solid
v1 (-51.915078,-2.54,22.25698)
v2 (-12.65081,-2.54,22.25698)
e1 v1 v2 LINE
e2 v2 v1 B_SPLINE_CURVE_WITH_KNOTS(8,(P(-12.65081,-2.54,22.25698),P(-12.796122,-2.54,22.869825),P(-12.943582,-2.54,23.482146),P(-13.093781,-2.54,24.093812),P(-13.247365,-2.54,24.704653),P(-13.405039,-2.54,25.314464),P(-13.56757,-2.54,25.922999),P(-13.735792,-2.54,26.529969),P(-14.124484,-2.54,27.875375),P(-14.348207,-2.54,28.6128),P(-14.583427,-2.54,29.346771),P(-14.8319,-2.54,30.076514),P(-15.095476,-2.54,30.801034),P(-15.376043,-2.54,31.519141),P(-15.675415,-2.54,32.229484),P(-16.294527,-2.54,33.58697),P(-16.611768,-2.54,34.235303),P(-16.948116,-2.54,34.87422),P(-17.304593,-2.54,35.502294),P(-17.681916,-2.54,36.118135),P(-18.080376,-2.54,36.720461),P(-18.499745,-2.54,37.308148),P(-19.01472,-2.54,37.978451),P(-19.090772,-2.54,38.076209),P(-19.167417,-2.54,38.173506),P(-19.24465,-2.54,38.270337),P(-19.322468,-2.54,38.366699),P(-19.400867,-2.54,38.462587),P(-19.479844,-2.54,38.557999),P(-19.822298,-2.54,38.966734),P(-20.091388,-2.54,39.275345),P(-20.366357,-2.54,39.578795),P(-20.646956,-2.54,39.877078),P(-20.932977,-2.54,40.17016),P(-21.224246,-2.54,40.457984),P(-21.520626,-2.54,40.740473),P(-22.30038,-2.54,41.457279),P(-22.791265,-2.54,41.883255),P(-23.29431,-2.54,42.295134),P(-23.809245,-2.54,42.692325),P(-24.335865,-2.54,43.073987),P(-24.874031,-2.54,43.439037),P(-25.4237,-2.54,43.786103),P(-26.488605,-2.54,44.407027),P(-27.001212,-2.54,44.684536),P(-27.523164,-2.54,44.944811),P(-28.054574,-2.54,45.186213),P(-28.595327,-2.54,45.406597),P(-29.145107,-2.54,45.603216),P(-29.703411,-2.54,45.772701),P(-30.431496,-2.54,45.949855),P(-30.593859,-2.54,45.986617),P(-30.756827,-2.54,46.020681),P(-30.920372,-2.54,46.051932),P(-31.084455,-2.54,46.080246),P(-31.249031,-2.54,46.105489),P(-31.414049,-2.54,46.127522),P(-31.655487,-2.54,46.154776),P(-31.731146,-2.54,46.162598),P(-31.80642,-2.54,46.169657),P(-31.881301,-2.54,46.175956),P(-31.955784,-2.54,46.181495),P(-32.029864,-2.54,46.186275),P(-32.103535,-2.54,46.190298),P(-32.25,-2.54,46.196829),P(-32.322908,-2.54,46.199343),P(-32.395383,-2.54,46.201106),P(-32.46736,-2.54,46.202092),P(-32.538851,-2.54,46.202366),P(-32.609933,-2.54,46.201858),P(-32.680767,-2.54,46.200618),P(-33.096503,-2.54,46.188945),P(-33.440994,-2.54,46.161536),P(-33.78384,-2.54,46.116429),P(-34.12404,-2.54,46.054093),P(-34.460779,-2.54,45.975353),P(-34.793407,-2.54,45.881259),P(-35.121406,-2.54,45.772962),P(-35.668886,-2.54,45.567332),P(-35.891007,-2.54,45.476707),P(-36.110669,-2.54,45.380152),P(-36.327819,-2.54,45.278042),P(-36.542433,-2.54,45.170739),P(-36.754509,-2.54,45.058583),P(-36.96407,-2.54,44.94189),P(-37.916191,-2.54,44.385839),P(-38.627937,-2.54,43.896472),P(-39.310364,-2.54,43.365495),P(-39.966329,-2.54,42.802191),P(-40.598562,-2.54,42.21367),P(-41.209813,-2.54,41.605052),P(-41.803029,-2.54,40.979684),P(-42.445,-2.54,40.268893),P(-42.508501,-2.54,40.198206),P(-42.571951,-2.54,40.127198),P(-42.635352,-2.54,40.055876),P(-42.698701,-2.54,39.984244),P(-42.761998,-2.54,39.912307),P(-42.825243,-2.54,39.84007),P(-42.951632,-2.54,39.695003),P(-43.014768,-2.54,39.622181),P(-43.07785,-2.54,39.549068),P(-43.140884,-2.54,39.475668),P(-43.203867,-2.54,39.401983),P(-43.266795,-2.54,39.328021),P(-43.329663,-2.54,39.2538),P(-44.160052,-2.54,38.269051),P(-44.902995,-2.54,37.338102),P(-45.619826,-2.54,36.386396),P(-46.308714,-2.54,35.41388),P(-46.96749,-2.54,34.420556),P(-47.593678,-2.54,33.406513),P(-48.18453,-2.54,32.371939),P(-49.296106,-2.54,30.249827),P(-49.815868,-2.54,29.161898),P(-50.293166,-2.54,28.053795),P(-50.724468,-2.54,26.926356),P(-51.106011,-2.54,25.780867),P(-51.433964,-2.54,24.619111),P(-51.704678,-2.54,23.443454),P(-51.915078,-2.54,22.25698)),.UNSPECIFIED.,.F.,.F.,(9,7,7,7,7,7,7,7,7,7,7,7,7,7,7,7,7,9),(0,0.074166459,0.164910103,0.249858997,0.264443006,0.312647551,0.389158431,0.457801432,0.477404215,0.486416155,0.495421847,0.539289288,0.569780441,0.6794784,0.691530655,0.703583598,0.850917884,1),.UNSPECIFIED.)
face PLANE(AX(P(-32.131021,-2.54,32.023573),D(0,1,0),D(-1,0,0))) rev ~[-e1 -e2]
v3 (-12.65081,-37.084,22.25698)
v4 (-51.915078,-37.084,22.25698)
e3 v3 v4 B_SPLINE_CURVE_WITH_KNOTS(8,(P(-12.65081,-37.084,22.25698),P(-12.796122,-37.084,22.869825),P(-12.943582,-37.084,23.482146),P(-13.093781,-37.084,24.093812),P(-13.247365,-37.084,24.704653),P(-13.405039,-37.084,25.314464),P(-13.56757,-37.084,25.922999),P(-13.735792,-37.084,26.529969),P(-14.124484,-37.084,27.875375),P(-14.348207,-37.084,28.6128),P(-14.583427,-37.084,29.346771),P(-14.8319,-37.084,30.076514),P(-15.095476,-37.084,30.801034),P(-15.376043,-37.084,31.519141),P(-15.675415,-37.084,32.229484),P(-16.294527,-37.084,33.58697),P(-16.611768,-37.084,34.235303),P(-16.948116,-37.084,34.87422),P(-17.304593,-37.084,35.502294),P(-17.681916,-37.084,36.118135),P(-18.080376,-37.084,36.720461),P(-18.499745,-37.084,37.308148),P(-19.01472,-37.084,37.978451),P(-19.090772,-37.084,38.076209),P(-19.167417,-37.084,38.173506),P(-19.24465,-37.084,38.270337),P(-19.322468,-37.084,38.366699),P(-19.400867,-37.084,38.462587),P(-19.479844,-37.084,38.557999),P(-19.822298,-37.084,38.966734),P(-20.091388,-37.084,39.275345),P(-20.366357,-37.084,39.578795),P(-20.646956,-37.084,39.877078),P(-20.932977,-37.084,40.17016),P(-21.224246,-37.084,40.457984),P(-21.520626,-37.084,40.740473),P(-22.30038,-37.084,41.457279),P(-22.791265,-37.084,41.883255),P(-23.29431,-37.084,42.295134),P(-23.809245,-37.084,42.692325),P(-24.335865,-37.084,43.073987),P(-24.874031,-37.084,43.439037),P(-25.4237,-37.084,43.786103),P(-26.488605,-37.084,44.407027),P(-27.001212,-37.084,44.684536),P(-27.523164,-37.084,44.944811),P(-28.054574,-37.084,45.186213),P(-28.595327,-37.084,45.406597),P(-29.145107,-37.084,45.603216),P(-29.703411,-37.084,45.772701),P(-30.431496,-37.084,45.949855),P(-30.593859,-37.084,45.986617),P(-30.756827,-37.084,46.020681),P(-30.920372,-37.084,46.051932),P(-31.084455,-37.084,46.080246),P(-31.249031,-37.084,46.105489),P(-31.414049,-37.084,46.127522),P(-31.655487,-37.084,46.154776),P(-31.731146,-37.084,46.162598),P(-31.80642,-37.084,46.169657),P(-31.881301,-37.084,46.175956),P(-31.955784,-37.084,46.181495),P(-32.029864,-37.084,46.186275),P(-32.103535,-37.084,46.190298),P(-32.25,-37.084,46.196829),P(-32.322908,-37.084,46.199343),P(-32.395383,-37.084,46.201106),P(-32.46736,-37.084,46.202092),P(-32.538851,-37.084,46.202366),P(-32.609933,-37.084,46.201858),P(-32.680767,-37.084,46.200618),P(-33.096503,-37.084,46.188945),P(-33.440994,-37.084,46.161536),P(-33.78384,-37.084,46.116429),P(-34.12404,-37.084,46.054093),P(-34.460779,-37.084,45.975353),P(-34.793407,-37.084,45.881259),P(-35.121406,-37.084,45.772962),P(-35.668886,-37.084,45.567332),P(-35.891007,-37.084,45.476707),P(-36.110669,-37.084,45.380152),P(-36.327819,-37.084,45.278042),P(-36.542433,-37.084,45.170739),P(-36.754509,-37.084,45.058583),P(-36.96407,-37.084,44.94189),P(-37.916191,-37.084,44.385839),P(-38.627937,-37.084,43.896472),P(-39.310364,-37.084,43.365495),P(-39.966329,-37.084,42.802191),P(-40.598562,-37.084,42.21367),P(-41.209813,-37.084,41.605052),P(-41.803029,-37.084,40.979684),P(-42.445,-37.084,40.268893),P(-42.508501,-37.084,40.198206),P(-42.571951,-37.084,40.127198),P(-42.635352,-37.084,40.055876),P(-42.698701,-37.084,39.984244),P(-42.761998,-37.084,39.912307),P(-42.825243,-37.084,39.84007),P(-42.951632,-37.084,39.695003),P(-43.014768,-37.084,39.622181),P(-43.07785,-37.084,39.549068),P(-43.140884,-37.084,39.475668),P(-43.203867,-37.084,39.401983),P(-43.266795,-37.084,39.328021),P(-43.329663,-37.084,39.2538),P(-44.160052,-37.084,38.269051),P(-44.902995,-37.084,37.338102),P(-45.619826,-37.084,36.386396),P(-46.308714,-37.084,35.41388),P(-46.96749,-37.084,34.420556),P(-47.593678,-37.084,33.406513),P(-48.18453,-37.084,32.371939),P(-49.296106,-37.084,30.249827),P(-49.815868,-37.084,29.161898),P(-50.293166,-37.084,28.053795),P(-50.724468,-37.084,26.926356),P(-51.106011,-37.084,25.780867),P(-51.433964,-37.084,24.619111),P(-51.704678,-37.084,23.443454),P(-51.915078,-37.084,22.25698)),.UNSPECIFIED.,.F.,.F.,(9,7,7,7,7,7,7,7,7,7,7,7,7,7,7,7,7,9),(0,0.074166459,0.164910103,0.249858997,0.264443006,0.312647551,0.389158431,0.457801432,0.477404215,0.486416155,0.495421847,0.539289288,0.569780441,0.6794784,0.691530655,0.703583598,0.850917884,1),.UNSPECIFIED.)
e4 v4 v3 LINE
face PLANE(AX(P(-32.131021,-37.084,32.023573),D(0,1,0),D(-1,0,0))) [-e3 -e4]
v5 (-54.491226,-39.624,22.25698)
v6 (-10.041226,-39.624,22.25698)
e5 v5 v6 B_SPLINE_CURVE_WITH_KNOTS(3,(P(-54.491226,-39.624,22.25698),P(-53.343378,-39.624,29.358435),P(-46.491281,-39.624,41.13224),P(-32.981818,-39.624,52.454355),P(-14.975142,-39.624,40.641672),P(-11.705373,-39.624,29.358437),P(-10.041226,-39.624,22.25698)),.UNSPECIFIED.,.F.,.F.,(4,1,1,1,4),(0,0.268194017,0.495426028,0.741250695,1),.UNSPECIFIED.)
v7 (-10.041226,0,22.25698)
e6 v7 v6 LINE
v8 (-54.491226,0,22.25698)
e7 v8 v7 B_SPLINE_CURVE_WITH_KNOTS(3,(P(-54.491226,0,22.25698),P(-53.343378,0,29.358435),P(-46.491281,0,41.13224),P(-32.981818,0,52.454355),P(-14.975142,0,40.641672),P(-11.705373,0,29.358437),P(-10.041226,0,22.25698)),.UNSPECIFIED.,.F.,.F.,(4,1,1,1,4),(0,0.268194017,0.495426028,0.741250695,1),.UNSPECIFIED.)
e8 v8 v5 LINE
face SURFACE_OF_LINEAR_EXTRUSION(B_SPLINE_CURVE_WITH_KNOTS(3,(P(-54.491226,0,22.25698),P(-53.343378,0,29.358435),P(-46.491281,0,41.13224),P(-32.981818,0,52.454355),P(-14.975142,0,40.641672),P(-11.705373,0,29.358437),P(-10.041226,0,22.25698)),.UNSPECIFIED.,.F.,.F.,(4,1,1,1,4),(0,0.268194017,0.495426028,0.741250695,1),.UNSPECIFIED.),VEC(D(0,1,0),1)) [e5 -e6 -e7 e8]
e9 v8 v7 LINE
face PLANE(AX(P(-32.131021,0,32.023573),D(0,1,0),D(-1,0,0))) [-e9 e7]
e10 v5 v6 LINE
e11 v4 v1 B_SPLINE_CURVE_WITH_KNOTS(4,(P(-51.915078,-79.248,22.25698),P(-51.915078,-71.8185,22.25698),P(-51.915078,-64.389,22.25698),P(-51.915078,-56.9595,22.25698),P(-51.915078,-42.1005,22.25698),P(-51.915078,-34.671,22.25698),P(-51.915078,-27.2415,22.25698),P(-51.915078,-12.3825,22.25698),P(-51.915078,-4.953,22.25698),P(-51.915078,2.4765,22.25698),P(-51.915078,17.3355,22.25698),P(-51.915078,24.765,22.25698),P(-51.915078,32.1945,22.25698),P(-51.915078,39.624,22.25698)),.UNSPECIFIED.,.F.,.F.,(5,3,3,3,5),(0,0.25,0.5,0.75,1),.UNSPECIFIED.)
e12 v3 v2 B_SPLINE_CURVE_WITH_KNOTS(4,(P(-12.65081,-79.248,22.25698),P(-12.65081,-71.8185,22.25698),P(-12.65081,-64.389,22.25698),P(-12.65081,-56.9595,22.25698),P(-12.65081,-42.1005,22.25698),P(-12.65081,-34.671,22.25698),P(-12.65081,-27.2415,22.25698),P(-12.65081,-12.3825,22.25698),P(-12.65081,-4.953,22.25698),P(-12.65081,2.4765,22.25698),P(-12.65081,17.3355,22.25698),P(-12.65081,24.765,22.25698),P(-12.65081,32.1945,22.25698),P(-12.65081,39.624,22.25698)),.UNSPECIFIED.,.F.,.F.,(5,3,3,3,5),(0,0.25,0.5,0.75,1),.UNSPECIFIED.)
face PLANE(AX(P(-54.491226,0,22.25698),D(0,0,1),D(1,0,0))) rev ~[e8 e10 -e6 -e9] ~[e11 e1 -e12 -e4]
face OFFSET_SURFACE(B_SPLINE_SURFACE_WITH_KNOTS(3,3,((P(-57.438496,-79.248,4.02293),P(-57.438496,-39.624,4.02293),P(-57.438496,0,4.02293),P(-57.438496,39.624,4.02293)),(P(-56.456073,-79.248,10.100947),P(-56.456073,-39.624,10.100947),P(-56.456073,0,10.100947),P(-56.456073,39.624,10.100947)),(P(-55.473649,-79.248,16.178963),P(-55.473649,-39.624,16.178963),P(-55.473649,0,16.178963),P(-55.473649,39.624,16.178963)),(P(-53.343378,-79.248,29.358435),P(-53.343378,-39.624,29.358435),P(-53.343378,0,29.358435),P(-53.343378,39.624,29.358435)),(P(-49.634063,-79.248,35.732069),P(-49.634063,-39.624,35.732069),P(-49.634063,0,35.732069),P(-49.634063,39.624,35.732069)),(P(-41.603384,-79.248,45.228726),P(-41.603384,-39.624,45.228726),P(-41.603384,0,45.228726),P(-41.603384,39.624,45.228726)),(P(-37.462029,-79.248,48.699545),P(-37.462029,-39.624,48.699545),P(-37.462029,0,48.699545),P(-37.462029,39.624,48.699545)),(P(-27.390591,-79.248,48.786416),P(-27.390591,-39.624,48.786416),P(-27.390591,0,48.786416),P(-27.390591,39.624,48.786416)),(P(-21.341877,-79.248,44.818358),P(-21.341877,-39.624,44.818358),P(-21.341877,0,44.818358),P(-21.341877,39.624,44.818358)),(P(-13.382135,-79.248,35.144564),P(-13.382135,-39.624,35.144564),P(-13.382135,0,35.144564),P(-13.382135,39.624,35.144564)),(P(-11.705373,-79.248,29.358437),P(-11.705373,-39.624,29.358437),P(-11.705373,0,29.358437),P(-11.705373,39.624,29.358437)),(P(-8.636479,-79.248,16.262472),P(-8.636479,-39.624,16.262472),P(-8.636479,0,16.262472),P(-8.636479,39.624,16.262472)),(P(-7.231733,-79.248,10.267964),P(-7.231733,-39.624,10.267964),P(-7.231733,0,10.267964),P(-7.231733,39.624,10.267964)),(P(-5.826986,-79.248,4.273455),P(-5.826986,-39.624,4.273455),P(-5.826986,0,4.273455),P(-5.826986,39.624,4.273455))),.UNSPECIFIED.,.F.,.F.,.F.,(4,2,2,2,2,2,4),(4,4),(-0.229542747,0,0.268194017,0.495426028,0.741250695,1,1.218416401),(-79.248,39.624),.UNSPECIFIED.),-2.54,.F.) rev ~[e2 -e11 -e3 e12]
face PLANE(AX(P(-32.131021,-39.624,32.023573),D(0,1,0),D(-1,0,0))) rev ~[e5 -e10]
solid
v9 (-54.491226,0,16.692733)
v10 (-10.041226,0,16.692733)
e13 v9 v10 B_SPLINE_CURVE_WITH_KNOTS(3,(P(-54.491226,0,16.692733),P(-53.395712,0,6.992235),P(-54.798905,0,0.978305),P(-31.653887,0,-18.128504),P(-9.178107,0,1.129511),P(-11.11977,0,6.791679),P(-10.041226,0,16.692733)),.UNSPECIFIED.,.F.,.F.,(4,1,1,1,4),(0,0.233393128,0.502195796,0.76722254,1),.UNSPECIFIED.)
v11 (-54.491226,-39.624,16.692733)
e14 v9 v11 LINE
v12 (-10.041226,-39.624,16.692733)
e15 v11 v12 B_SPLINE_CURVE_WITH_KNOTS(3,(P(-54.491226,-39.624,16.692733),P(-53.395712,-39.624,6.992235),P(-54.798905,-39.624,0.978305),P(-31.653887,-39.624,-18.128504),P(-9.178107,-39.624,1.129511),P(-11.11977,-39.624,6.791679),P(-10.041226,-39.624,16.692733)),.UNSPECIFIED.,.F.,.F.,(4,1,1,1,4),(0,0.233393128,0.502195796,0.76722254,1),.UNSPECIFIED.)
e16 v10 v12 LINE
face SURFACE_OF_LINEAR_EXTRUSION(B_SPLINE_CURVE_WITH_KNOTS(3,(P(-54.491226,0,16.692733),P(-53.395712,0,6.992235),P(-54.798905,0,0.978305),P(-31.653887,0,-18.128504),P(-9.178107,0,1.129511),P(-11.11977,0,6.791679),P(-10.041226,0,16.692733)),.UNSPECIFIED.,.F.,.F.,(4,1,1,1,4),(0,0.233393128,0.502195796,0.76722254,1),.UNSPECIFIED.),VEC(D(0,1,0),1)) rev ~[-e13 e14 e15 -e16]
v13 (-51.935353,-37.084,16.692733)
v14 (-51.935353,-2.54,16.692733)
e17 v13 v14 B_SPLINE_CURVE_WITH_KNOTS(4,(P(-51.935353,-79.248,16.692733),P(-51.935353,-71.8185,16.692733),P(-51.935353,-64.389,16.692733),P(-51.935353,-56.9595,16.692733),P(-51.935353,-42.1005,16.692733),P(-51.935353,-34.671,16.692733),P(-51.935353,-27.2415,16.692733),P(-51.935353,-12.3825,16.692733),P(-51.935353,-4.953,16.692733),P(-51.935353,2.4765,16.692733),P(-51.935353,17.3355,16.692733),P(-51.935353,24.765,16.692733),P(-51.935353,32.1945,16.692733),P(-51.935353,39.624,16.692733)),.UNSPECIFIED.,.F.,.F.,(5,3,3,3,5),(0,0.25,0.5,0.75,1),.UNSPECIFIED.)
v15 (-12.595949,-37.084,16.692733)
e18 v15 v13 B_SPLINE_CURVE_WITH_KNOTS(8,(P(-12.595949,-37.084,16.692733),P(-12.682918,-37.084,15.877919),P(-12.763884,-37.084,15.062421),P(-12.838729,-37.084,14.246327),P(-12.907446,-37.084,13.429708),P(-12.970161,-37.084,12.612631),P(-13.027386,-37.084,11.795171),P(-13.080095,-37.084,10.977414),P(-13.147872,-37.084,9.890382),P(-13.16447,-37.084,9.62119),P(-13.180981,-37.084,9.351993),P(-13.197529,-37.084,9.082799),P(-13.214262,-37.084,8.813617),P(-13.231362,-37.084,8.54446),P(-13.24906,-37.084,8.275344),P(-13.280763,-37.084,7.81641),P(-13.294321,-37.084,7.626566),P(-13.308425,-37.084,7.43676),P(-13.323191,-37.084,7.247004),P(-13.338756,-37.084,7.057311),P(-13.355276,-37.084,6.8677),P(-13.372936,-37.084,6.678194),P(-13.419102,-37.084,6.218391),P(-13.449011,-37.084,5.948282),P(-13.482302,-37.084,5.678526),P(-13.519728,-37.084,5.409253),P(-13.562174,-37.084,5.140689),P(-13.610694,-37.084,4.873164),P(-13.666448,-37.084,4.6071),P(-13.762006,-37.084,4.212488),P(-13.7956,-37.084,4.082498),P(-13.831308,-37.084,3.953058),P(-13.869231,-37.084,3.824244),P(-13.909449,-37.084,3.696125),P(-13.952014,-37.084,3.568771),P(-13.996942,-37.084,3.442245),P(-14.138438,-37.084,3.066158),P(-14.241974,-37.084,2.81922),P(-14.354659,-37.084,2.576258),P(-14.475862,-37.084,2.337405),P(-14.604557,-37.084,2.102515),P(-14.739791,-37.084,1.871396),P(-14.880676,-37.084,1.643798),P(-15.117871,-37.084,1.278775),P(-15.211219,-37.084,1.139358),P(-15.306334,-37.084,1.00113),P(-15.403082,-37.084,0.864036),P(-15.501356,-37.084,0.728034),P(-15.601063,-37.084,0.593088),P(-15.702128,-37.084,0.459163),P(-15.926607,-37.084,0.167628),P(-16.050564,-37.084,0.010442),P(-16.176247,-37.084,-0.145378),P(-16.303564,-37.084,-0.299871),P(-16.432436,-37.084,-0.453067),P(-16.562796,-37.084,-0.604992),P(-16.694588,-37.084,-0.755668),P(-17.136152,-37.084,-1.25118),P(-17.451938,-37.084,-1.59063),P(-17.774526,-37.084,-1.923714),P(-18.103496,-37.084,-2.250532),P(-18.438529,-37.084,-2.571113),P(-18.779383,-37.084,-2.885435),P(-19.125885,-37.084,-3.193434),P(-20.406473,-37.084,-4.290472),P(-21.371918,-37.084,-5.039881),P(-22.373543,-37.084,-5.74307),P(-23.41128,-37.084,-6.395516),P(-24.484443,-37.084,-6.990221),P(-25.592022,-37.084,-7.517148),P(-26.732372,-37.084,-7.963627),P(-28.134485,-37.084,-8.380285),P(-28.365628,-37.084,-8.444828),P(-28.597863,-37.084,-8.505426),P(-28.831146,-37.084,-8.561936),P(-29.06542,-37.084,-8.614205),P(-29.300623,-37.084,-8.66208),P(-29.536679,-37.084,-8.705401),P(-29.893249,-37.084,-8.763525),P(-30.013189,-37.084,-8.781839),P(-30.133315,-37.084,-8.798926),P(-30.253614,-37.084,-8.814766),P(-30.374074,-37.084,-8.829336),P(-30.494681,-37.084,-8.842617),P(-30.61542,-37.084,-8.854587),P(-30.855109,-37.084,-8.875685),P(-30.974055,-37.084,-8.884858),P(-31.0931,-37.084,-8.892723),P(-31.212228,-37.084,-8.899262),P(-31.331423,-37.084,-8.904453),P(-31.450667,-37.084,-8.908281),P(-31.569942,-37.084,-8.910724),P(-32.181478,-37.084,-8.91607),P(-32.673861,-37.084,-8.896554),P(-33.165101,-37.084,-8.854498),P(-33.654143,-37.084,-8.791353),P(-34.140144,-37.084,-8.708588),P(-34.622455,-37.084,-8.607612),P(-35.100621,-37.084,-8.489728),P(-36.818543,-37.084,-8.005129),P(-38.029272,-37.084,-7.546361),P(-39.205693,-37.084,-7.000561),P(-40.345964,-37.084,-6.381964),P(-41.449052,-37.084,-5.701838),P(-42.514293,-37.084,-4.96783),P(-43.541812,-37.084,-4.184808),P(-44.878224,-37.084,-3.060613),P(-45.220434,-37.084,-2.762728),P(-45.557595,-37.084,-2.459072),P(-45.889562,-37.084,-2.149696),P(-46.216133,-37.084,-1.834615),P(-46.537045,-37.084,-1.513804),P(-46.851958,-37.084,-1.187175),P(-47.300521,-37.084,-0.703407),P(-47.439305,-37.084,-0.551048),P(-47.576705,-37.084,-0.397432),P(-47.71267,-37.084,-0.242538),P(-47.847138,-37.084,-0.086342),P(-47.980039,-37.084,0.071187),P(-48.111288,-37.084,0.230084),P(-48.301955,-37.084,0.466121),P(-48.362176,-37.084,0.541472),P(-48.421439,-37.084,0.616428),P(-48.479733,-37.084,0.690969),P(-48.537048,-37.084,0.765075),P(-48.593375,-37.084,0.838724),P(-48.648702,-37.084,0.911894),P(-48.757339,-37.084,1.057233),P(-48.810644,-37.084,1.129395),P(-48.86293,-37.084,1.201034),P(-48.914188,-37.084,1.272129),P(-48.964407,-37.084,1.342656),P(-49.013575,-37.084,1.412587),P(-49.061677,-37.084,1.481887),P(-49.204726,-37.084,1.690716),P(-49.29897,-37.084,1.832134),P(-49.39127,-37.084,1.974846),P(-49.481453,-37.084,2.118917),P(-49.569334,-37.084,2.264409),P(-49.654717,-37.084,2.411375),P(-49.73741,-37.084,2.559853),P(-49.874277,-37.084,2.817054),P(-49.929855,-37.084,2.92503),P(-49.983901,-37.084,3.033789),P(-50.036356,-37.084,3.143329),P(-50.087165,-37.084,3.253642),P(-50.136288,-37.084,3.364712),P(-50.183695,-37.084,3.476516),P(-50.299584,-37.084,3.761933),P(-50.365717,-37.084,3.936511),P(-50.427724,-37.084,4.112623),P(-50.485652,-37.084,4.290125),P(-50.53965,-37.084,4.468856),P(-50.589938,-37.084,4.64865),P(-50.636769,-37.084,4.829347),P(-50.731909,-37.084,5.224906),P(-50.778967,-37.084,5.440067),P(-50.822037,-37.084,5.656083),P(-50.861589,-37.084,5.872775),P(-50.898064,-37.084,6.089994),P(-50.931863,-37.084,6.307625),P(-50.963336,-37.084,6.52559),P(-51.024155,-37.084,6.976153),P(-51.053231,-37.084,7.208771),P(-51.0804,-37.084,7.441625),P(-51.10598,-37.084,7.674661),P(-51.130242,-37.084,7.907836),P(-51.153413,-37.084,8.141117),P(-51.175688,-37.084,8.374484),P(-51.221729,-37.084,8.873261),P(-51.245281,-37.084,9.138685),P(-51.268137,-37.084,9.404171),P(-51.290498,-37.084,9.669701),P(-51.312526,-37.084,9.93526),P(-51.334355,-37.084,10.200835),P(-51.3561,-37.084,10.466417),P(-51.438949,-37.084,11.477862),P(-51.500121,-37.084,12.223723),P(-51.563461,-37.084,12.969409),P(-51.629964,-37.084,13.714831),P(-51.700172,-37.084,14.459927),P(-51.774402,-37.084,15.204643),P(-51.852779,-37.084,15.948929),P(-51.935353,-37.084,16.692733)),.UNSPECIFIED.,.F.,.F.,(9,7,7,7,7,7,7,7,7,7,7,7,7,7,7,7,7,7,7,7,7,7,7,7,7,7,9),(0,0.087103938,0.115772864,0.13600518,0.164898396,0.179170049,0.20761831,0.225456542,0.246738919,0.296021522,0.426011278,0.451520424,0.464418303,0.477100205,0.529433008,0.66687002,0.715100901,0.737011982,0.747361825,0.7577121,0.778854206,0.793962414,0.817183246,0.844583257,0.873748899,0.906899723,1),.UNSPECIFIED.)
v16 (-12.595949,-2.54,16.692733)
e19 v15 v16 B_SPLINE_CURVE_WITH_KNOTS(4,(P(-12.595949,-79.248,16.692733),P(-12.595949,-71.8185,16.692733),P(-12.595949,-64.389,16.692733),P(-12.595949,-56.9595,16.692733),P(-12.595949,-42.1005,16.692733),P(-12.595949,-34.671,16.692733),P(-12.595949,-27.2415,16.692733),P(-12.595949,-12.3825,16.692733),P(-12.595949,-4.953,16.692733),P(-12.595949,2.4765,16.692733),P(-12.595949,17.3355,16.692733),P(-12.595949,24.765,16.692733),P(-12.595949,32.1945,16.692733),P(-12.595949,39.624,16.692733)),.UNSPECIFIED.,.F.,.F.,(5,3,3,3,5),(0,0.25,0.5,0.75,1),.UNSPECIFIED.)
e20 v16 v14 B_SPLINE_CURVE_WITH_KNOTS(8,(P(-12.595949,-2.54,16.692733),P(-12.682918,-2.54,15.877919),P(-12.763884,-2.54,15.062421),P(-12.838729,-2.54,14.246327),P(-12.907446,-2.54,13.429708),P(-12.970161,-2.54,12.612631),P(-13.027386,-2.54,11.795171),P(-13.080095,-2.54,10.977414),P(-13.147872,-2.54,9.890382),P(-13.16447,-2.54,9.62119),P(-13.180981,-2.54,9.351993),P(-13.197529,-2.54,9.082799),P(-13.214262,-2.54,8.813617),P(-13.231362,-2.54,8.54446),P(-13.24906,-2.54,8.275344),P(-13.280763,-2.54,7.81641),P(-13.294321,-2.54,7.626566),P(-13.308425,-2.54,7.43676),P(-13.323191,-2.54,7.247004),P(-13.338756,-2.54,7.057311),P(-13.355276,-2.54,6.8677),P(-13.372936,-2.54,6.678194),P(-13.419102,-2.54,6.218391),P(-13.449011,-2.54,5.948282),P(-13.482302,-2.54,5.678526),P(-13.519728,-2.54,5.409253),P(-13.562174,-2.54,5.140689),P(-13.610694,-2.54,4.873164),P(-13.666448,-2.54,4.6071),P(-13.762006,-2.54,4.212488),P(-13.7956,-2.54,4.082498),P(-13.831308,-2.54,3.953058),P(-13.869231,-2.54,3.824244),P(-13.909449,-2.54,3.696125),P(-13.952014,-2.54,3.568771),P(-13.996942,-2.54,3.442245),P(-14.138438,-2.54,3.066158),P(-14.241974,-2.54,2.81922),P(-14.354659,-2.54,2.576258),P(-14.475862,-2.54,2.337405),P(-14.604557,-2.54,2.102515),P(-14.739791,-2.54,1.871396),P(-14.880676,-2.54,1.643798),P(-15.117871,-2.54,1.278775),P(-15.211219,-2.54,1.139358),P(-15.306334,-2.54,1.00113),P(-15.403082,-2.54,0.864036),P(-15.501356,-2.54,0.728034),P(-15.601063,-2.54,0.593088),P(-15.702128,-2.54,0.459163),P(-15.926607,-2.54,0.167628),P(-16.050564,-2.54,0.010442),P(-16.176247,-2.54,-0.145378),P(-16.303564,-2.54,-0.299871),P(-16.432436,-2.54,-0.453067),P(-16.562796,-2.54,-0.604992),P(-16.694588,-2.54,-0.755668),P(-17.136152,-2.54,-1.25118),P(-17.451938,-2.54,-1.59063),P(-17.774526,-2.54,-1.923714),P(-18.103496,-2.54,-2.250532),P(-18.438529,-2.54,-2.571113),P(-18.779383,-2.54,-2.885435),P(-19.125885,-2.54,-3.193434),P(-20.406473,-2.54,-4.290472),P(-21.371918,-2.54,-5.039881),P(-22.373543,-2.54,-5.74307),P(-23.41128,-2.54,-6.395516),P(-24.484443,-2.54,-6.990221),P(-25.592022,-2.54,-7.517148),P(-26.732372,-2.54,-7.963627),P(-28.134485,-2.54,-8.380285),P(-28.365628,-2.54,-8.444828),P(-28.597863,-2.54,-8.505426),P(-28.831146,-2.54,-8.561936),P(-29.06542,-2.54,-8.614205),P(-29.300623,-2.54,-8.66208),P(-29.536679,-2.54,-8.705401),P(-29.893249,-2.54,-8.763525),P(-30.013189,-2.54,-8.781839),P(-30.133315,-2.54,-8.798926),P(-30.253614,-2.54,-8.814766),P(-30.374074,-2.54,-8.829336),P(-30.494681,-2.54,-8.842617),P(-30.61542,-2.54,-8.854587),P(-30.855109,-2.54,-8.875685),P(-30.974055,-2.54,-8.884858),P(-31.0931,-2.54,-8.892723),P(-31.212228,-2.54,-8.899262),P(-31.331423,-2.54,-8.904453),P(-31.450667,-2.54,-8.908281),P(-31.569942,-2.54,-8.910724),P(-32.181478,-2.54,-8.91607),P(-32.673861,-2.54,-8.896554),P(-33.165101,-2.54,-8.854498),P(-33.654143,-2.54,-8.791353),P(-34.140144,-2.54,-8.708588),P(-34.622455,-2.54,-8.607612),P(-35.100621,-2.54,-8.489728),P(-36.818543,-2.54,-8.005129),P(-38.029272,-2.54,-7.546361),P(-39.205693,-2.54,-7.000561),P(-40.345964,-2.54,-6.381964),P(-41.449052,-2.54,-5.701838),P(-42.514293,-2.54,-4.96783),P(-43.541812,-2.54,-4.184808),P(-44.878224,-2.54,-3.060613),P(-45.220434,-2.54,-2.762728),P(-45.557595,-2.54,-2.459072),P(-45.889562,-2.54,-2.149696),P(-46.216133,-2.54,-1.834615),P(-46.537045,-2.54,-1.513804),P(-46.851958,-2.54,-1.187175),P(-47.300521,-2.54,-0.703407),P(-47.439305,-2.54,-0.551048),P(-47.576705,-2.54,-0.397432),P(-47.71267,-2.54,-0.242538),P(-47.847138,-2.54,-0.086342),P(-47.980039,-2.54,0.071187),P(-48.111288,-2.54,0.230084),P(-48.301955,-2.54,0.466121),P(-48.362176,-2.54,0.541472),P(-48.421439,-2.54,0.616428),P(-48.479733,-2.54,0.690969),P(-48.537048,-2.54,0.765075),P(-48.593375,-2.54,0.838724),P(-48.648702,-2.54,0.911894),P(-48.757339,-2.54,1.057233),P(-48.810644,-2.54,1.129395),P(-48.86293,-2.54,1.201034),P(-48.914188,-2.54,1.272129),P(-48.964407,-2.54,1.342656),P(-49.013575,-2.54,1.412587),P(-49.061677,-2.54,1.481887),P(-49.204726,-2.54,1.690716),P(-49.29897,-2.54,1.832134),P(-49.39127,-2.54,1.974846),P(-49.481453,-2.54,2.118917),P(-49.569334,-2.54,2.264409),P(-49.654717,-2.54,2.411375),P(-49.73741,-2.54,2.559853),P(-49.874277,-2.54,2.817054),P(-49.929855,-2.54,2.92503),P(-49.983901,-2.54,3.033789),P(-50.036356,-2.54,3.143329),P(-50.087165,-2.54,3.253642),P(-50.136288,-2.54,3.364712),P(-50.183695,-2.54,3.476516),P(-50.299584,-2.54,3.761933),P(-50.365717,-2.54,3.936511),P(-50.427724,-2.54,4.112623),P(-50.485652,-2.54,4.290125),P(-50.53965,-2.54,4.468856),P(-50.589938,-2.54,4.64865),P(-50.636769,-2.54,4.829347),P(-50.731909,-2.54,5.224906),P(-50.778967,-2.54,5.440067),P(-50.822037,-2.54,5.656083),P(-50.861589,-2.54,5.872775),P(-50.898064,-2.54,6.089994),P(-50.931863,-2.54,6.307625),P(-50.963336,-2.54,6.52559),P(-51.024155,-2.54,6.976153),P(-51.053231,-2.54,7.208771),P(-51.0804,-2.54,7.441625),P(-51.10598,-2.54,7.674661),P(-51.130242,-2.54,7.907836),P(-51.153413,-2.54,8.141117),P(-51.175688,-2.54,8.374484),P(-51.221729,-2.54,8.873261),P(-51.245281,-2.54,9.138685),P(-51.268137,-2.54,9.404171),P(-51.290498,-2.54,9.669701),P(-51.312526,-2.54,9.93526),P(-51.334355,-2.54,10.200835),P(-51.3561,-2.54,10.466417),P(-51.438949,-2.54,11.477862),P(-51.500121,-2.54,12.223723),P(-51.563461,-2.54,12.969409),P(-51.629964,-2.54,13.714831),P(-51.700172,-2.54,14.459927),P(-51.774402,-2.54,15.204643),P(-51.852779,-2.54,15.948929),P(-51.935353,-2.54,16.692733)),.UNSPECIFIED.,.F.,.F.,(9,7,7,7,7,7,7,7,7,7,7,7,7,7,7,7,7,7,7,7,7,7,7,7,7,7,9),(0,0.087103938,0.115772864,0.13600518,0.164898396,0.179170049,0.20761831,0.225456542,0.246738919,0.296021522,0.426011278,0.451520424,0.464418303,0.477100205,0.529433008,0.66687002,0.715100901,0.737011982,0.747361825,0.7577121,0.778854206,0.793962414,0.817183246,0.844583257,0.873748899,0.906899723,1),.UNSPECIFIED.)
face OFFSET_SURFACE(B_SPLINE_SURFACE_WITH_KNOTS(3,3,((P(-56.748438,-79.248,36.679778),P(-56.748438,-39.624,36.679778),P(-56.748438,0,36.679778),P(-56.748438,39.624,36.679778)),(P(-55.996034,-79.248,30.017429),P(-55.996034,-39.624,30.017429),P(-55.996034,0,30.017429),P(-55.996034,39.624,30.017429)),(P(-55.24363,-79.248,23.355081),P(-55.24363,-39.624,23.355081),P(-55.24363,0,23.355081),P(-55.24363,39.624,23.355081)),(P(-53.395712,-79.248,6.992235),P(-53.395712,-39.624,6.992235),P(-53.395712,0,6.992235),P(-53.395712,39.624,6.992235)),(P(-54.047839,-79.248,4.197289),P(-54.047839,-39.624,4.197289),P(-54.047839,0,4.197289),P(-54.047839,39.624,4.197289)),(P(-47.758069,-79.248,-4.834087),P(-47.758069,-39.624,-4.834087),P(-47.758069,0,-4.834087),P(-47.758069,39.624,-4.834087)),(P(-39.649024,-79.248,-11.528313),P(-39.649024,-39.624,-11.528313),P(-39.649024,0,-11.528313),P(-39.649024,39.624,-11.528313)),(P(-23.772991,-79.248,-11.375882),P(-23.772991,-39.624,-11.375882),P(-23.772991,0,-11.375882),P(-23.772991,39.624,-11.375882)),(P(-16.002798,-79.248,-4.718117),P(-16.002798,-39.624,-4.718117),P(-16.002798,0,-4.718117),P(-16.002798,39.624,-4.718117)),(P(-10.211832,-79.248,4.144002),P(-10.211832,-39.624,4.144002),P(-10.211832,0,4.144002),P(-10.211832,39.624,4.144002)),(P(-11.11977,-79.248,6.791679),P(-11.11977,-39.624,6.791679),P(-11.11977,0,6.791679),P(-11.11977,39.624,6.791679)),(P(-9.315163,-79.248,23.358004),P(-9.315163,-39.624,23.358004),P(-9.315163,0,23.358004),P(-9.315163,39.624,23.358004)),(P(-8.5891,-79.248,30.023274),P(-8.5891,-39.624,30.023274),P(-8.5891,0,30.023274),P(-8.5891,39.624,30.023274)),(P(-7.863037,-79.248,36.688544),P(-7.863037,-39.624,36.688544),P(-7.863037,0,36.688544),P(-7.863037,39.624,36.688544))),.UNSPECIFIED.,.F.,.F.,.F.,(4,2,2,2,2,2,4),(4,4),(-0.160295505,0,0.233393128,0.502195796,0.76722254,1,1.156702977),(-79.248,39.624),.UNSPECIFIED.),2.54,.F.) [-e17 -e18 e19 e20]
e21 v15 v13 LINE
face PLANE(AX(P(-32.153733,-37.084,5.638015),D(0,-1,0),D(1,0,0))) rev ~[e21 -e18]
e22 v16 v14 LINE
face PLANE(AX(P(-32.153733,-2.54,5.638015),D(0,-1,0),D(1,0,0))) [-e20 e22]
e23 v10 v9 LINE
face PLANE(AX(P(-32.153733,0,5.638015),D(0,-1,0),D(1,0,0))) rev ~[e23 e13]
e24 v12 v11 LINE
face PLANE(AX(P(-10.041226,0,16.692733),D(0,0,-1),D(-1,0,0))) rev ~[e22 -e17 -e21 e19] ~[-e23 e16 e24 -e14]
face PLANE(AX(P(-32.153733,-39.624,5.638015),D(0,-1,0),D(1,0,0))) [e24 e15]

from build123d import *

# Parameters (mm, degrees)
F1_DEPTH = 39.624
F2_T     = -2.54
F2_2_T   = -2.54


with BuildPart() as f1:
    # F0 (on Front) → F1 (new body)
    with BuildSketch(Plane.XZ):
        with BuildLine():
            add(Edge.make_bspline(
                [(-54.49122563, 22.2569797188), (-53.3433780074, 29.3584354222), (-46.4912814239, 41.1322395576), (-32.9818176316, 52.4543551371), (-14.9751421965, 40.641671761), (-11.7053734139, 29.3584372848), (-10.04122563, 22.2569797188)],
                knots=[0, 0, 0, 0, 0.2681940171, 0.4954260284, 0.7412506951, 1, 1, 1, 1], degree=3))
            Line((-54.49122563, 22.2569797188), (-10.04122563, 22.2569797188))
        make_face()
    extrude(amount=F1_DEPTH)

    # F2
    f2_openings = [f1.faces().sort_by_distance(p)[0] for p in [
        (-32.266226, -19.812, 22.25698),
    ]]
    offset(amount=F2_T, openings=f2_openings)


with BuildPart() as f1b:
    # F0 (on Front) → F1, piece 2 (new body)
    with BuildSketch(Plane.XZ):
        with BuildLine():
            Line((-10.04122563, 16.6927333921), (-54.49122563, 16.6927333921))
            add(Edge.make_bspline(
                [(-54.49122563, 16.6927333921), (-53.3957116168, 6.9922352266), (-54.7989052527, 0.9783048716), (-31.6538874769, -18.1285035146), (-9.1781074636, 1.1295111725), (-11.1197696151, 6.7916792308), (-10.04122563, 16.6927333921)],
                knots=[0, 0, 0, 0, 0.2333931282, 0.502195796, 0.7672225402, 1, 1, 1, 1], degree=3))
        make_face()
    extrude(amount=F1_DEPTH)

    # F2#2
    f2_2_openings = [f1b.faces().sort_by_distance(p)[0] for p in [
        (-32.266226, -19.812, 16.692733),
    ]]
    offset(amount=F2_2_T, openings=f2_2_openings)


solid = Compound([f1.part, f1b.part])
